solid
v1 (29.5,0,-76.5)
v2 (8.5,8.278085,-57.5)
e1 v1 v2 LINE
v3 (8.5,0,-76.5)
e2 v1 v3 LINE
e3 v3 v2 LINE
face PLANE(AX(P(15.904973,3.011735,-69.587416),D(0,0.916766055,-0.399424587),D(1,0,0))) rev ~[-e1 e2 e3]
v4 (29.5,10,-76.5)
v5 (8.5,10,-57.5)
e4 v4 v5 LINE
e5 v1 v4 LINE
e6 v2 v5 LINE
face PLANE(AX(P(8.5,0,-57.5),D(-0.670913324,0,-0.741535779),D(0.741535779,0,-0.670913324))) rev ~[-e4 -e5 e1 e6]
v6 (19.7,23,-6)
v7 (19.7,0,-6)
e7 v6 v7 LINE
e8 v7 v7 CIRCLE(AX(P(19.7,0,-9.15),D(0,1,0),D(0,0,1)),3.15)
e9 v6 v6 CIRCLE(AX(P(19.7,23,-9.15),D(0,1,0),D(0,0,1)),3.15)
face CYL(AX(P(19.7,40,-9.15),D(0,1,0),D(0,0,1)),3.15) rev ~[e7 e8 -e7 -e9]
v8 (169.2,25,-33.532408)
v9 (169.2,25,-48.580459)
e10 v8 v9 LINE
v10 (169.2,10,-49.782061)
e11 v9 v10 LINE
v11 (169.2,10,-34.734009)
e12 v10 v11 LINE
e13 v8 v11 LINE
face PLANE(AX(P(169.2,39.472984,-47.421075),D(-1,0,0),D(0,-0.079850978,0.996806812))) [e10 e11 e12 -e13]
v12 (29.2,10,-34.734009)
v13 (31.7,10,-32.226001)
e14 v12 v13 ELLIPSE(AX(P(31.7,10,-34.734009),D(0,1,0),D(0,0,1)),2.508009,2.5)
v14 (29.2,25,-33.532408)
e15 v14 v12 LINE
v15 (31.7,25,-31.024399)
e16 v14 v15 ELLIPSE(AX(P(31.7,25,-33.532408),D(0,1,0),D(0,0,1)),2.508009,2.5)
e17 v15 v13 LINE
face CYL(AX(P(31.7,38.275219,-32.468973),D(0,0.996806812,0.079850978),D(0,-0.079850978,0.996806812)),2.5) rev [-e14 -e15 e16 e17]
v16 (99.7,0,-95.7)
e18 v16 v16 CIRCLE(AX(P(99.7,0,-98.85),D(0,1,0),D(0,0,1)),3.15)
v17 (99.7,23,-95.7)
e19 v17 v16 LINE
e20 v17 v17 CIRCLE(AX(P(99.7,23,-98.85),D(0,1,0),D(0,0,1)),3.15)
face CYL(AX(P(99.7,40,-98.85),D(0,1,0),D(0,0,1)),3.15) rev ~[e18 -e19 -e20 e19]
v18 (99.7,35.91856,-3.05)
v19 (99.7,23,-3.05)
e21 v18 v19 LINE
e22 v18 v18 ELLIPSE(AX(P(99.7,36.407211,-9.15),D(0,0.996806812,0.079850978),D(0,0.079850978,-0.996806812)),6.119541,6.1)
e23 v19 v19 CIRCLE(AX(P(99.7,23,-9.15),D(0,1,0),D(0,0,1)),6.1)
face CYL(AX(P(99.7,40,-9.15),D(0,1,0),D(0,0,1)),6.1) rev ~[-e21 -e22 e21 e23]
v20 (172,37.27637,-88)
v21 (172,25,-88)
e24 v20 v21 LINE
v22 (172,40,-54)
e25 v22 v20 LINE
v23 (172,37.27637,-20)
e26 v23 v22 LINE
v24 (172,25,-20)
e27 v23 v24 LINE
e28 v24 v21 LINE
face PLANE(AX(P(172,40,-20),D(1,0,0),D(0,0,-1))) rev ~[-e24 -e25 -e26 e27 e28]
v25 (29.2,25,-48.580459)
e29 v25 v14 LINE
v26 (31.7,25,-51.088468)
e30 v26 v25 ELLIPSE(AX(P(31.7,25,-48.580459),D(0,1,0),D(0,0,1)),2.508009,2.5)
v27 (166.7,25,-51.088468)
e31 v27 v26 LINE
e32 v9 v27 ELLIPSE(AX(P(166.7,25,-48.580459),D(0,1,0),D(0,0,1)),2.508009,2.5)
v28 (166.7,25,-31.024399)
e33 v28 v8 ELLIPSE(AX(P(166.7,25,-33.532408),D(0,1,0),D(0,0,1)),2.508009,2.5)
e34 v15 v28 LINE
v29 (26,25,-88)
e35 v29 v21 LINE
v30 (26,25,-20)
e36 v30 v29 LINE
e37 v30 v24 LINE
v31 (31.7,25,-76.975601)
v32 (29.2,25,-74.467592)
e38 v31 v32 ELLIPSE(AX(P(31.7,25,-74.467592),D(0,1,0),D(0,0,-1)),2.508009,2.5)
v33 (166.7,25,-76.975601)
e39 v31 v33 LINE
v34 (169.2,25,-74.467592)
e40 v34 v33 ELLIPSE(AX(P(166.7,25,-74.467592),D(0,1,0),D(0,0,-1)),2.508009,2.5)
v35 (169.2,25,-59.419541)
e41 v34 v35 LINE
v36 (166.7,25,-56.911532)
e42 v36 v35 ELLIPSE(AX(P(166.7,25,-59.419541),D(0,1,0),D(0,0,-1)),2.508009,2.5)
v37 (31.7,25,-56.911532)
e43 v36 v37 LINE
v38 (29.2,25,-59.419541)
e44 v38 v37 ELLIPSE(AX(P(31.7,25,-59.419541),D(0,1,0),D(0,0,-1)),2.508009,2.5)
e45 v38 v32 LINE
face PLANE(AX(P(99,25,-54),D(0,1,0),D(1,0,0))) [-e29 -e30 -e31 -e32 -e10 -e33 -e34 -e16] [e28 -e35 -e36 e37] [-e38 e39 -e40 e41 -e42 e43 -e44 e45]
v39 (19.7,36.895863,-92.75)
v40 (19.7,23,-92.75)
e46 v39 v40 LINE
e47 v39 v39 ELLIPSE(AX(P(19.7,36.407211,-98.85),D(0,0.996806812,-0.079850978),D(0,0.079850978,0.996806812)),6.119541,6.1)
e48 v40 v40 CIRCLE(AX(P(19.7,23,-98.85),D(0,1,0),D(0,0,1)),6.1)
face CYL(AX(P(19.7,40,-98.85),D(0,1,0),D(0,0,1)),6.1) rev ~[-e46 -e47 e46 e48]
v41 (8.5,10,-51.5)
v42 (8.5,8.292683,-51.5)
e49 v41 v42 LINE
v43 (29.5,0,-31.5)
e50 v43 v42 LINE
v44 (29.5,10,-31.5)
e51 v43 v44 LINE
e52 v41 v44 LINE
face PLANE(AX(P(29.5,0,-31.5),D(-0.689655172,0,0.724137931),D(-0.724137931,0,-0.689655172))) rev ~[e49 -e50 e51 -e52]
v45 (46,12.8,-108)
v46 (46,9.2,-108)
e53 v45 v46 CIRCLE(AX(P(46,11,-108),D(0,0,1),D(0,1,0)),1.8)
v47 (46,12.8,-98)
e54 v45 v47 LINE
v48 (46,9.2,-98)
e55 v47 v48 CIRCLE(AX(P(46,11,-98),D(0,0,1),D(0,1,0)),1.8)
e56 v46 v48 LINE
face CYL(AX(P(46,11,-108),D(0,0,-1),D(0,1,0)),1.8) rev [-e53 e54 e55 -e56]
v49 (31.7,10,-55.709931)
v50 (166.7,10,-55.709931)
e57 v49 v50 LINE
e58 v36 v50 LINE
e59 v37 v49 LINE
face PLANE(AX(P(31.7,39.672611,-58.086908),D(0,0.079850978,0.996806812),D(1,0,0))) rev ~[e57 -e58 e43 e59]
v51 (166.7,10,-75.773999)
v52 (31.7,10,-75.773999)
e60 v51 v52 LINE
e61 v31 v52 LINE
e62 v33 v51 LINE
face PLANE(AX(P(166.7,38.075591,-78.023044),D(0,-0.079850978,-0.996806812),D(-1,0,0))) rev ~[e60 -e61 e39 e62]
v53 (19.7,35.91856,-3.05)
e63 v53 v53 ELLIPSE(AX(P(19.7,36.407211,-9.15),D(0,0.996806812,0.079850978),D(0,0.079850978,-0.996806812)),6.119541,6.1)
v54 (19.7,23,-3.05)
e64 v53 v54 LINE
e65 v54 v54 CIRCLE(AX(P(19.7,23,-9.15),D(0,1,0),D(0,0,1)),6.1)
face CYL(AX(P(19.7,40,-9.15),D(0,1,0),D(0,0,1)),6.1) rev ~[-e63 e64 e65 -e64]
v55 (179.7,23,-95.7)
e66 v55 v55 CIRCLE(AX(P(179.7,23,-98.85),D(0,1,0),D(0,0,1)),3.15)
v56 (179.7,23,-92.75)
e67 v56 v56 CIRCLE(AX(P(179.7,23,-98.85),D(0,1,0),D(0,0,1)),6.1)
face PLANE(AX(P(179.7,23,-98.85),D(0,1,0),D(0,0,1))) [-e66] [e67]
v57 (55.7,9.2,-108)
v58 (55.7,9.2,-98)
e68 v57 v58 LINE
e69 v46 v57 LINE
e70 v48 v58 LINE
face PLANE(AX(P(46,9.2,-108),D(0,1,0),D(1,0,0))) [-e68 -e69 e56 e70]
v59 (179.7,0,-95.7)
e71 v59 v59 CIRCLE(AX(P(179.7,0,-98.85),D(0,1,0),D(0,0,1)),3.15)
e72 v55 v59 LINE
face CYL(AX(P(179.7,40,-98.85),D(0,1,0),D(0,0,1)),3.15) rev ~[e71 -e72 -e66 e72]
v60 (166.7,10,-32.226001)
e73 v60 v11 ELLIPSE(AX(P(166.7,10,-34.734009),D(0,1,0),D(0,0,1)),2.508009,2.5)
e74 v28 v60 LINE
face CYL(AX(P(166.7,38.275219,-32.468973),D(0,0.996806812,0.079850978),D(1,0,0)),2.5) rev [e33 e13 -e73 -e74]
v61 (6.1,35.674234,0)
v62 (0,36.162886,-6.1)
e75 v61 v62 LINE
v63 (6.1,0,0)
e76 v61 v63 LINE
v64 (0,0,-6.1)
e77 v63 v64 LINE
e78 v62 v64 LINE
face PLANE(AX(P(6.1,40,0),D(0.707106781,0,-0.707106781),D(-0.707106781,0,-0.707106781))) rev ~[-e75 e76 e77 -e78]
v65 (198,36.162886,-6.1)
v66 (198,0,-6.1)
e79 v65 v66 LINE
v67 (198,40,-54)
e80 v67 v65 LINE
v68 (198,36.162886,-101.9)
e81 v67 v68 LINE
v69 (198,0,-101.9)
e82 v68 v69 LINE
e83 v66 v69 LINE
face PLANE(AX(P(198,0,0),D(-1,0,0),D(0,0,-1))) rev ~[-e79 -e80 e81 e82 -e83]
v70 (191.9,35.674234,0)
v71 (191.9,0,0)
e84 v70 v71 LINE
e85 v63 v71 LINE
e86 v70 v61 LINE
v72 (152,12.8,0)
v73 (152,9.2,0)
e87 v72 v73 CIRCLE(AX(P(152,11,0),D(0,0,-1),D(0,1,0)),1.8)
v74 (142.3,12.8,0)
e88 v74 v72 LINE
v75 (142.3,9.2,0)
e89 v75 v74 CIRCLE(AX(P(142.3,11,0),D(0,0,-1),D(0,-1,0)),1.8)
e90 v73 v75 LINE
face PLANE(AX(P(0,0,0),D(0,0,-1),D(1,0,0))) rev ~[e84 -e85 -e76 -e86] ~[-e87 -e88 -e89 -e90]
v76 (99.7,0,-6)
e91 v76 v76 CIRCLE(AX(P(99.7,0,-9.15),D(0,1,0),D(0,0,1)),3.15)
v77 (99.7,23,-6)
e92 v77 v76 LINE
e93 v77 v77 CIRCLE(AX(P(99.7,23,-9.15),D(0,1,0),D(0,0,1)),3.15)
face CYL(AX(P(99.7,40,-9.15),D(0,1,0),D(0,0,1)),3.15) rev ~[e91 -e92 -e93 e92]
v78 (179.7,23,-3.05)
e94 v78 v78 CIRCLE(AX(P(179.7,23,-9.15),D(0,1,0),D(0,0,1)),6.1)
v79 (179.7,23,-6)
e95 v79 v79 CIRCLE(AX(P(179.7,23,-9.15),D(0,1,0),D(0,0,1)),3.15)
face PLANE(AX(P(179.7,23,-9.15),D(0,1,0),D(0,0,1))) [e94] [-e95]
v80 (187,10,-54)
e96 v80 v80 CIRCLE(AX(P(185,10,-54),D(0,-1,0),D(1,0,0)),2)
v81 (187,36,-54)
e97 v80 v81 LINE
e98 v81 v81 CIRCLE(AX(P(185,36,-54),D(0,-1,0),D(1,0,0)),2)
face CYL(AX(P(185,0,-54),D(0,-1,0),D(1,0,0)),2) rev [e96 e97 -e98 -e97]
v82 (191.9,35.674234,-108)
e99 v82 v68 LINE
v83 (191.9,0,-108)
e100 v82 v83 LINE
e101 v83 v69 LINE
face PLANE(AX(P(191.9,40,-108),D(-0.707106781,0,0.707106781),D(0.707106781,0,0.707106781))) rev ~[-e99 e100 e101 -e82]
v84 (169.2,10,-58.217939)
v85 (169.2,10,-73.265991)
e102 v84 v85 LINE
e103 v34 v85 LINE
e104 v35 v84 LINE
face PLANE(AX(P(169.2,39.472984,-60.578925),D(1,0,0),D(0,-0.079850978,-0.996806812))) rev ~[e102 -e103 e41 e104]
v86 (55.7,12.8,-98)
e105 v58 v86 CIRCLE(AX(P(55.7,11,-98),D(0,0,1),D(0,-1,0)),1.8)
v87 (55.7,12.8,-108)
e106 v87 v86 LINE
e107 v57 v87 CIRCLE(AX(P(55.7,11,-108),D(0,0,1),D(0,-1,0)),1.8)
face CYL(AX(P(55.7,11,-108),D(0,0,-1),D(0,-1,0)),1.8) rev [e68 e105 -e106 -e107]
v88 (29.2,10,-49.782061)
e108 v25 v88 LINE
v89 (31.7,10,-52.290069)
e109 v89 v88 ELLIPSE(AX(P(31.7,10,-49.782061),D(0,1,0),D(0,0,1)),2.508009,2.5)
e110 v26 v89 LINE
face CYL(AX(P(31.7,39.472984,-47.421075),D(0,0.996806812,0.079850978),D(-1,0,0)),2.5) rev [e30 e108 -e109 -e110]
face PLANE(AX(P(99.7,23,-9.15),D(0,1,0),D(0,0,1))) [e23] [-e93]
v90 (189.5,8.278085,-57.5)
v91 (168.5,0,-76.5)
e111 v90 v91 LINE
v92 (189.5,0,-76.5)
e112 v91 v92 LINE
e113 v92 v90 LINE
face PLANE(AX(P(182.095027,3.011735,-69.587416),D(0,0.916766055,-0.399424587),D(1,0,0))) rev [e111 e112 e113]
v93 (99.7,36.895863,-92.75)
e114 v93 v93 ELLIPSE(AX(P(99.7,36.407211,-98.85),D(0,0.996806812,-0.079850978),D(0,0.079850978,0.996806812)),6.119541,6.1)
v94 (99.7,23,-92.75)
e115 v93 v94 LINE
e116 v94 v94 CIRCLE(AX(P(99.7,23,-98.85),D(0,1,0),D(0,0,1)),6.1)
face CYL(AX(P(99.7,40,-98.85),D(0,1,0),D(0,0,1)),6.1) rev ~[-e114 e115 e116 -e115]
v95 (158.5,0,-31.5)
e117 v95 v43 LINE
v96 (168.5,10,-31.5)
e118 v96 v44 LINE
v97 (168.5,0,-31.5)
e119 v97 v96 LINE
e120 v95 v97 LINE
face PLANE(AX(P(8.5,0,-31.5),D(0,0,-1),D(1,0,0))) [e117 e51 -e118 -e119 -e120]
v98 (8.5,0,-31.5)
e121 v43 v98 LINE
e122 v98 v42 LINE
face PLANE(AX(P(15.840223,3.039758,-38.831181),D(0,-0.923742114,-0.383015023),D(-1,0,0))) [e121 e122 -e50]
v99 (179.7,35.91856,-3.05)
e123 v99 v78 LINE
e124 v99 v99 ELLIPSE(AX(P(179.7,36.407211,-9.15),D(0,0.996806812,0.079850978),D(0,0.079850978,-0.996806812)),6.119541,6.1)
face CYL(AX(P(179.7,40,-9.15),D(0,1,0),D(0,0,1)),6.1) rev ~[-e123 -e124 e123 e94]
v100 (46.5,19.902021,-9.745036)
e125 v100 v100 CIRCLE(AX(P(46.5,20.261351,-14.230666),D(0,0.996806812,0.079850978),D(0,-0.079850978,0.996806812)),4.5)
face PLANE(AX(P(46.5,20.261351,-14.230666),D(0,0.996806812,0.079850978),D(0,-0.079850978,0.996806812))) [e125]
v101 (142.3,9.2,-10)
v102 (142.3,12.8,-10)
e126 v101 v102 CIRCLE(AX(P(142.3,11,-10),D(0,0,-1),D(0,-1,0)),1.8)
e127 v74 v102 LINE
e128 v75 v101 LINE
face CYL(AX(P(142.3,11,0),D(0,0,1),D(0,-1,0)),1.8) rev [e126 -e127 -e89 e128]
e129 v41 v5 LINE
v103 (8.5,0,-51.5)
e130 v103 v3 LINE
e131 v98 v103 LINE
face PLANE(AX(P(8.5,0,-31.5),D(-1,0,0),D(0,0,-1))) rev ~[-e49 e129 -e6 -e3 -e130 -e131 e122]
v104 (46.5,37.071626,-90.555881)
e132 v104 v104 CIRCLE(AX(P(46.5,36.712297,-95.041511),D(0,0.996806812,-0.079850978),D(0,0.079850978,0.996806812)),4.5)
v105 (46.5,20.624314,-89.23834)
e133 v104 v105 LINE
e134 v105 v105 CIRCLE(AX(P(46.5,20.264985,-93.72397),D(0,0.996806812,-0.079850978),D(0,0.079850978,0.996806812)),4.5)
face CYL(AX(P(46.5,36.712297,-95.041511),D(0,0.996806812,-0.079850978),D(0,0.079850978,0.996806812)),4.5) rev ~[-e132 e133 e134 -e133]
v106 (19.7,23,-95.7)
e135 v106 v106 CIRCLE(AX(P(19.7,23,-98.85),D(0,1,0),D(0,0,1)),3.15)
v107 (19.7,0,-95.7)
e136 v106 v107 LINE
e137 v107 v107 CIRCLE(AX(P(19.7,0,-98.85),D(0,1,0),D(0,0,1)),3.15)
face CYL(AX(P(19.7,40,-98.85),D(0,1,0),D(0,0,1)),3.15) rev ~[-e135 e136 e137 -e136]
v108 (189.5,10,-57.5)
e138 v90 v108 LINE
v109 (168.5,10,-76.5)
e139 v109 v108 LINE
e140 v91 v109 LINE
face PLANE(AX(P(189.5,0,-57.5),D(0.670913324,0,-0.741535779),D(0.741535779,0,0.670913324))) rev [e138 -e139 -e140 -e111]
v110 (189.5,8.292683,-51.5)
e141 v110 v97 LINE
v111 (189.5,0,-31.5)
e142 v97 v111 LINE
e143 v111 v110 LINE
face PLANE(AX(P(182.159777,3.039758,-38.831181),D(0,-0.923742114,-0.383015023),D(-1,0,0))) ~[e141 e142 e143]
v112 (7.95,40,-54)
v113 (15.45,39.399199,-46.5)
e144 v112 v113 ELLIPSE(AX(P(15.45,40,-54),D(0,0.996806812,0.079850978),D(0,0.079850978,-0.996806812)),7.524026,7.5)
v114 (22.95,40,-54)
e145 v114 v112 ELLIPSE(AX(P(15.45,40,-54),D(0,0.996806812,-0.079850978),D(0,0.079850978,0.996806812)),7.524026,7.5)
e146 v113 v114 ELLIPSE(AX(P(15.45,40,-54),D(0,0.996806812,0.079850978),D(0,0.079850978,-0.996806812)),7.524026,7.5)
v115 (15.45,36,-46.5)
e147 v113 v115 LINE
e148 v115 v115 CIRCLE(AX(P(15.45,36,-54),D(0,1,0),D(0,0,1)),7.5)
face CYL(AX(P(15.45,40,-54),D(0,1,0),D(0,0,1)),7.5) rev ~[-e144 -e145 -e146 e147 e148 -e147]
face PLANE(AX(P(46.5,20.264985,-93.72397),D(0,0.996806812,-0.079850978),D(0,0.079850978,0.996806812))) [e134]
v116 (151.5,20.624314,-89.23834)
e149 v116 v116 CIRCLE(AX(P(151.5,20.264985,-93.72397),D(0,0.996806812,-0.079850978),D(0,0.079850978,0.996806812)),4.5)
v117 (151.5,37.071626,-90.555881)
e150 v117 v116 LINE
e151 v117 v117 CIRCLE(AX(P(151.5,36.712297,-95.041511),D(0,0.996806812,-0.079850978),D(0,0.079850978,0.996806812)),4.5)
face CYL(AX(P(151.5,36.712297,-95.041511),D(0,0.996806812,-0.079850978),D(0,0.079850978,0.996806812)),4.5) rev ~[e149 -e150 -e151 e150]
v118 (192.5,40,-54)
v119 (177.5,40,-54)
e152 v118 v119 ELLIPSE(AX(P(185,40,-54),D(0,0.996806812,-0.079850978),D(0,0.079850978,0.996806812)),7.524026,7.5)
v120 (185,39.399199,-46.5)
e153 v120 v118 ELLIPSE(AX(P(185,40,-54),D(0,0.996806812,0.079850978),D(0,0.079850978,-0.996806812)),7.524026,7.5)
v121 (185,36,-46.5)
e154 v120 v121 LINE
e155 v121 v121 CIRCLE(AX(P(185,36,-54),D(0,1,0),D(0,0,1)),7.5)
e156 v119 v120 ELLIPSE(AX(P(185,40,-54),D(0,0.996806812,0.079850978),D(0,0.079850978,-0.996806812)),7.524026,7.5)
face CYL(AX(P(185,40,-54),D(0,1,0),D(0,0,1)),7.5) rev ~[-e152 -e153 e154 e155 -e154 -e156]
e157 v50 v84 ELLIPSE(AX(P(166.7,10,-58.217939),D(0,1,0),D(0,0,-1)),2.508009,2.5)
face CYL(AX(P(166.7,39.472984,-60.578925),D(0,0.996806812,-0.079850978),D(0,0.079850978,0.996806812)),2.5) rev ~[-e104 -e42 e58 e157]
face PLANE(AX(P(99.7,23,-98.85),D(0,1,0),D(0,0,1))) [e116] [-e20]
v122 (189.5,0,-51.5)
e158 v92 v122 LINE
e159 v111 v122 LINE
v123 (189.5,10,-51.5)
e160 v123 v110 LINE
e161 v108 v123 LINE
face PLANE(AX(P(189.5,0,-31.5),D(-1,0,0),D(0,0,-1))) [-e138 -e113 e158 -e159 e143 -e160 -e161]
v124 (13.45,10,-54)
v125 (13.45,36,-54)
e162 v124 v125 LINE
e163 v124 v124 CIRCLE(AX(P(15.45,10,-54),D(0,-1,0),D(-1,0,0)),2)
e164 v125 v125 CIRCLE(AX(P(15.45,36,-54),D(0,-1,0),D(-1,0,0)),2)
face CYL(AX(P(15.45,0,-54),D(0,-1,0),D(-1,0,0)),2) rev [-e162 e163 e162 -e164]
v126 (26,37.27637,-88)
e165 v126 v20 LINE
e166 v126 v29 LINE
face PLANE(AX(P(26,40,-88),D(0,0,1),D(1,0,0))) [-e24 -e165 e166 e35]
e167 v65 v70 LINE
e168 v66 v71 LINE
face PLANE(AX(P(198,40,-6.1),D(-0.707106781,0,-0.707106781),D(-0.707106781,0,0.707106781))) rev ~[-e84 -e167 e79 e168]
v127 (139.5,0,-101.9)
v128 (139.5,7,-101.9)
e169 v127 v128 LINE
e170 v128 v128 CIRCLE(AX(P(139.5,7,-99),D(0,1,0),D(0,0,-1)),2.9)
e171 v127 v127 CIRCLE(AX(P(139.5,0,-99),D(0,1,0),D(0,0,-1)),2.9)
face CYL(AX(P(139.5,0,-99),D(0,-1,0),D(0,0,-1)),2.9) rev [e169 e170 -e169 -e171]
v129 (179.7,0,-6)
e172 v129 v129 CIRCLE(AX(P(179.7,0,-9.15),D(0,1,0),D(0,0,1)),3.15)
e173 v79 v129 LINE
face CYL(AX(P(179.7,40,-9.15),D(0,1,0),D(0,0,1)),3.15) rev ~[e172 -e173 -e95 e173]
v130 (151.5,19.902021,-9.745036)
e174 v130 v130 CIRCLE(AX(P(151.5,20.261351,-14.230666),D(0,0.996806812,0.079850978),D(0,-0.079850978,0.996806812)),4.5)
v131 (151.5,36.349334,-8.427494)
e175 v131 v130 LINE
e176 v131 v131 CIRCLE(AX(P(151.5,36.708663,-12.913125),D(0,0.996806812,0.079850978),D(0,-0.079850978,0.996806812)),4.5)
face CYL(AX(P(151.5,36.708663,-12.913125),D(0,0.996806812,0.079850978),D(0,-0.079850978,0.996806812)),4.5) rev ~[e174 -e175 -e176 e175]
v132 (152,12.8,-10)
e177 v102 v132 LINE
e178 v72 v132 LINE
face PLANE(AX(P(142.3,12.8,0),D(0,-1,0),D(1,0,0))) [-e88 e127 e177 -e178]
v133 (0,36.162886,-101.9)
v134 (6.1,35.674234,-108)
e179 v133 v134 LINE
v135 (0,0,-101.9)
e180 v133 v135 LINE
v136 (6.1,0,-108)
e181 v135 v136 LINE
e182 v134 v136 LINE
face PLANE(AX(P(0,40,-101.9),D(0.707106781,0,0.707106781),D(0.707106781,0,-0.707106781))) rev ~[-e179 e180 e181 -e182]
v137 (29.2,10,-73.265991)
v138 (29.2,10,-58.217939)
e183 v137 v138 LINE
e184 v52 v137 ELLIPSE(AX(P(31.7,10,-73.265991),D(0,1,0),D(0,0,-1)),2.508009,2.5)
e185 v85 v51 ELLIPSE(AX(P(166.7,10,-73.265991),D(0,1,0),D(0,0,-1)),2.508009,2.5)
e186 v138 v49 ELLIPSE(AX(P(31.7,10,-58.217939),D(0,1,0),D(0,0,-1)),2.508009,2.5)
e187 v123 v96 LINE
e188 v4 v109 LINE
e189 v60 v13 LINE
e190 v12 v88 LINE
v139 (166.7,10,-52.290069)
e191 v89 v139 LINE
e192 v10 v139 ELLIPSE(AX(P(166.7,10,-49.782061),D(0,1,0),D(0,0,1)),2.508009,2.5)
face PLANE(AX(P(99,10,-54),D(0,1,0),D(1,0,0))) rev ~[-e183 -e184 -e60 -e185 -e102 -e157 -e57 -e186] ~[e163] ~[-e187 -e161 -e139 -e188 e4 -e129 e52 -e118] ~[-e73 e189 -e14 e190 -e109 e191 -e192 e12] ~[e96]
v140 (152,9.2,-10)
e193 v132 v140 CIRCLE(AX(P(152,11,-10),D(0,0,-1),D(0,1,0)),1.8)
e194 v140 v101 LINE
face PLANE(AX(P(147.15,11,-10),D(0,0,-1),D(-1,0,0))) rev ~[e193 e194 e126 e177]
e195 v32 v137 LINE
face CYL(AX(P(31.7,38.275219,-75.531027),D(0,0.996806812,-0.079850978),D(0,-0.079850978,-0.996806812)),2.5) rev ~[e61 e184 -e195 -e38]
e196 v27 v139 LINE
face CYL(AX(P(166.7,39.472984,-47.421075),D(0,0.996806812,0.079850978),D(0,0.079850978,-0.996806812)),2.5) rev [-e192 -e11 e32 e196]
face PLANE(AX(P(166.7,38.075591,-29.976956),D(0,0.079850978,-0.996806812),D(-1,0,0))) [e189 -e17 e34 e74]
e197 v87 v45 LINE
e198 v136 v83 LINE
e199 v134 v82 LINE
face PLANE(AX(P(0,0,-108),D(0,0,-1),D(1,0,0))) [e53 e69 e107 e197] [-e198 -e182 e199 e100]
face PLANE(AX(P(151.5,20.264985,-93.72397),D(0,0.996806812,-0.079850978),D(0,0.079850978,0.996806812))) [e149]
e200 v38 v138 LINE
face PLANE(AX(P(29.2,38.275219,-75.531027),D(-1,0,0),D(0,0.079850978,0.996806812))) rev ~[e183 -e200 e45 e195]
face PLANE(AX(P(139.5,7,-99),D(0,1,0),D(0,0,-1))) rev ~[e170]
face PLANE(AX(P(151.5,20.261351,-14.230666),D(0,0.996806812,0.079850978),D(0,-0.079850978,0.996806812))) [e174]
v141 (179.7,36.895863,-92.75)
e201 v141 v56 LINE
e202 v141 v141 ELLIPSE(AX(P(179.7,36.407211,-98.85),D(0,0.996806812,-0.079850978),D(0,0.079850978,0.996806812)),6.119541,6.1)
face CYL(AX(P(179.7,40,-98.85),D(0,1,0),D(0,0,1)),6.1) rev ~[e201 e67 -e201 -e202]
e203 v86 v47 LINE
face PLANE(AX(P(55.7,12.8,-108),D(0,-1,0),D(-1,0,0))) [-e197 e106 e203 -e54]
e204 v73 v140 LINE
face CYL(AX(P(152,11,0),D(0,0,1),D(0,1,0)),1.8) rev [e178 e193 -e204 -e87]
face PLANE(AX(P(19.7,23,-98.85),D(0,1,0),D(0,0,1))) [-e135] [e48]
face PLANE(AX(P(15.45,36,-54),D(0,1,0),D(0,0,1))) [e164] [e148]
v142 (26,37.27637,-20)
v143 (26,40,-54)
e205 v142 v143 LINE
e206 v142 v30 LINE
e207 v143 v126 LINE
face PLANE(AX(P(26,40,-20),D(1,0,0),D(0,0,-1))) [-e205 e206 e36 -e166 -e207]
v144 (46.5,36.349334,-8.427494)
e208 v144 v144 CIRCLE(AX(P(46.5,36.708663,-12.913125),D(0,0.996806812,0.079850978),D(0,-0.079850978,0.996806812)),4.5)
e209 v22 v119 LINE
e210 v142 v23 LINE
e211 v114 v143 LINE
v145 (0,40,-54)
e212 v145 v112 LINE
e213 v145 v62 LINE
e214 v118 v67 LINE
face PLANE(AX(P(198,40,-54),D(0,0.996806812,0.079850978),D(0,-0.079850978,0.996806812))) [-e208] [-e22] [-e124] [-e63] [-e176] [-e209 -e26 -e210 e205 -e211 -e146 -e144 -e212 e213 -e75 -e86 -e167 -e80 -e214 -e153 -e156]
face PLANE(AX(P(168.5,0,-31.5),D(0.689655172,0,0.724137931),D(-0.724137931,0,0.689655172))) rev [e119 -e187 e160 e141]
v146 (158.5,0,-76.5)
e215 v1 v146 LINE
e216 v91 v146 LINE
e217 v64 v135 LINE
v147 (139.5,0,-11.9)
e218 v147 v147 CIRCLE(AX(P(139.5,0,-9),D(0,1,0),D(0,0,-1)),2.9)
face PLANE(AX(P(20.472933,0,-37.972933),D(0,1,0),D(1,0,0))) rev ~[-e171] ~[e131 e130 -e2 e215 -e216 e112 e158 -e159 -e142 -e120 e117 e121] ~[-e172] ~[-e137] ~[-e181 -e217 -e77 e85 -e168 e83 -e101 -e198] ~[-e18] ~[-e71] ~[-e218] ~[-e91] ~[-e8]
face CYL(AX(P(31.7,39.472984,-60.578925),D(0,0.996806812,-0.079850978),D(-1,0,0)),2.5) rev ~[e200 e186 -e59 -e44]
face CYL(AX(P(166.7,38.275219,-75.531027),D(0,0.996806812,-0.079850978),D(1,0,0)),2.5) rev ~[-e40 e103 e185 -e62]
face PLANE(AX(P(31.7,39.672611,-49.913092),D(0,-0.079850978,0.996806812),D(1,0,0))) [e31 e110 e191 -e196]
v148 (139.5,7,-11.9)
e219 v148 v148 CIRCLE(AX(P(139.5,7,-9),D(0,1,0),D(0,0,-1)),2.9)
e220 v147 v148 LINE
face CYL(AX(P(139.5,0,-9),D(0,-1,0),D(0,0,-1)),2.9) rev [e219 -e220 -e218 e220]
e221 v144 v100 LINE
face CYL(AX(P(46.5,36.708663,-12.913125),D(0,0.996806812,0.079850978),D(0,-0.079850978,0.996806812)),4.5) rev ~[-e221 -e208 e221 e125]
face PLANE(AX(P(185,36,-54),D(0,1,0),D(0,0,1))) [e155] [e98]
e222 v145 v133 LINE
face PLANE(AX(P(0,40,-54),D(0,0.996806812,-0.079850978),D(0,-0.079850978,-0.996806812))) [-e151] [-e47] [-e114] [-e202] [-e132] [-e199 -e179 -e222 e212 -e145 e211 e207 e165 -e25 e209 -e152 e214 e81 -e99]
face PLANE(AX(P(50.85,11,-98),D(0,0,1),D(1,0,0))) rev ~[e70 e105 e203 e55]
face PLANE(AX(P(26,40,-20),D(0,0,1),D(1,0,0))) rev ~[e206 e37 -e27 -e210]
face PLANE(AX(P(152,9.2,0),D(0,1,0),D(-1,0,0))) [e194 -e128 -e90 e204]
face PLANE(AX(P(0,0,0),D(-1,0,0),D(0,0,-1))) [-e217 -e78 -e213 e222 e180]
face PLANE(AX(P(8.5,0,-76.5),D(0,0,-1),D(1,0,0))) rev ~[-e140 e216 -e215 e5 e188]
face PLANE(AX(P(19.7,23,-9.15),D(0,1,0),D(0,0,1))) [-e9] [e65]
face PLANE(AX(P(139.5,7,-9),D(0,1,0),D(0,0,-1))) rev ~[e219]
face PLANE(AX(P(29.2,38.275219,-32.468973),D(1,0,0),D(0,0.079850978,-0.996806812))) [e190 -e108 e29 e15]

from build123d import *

# Parameters (mm, degrees)
SKETCH1_W             = 198
SKETCH1_H             = 108
BOSS_EXTRUDE1_DEPTH   = 40
SKETCH4_W             = 181
SKETCH4_H             = 45
CUT_EXTRUDE2_DEPTH    = 10
CUT_EXTRUDE3_START    = -198
CUT_EXTRUDE3_DEPTH    = 198
BOSS_EXTRUDE11_DEPTH  = 10
CUT_EXTRUDE12_DEPTH   = 198
CUT_EXTRUDE28_DEPTH   = 14.5
CUT_EXTRUDE29_DEPTH   = 14.5
CUT_EXTRUDE40_REACH   = 231.059
SKETCH12_R            = 3.15
CUT_EXTRUDE9_DEPTH    = 230.058944379
SKETCH13_R            = 4.5
CUT_EXTRUDE10_DEPTH   = 16.5
SKETCH14_R            = 4.5
CUT_EXTRUDE11_DEPTH   = 16.5
SKETCH41_R            = 2.9
CUT_EXTRUDE21_DEPTH   = 7
CUT_EXTRUDE22_DEPTH   = 10
CUT_EXTRUDE23_DEPTH   = 10
CUT_EXTRUDE35_DEPTH   = 55.4
CUT_EXTRUDE34_DEPTH   = 55.4
CUT_EXTRUDE36_DEPTH   = 55.4
SKETCH90_R            = 6.1
CUT_EXTRUDE38_DEPTH   = 17
SKETCH96_R            = 2
CUT_EXTRUDE39_DEPTH   = 230.058944379
SKETCH98_R            = 7.5
CUT_EXTRUDE41_DEPTH   = 4
CROQUIS1_W            = 146
CROQUIS1_H            = 68
CORTAR_EXTRUIR1_DEPTH = 15


with BuildPart() as part:
    # Sketch1 → Boss-Extrude1 (new body)
    with BuildSketch(Plane(origin=(0, 0, 0), x_dir=(1, 0, 0), z_dir=(0, 1, 0))):
        with Locations((99, 54)):
            Rectangle(SKETCH1_W, SKETCH1_H)
    extrude(amount=BOSS_EXTRUDE1_DEPTH)

    # Sketch4 → Cut-Extrude2 (cut)
    with BuildSketch(Plane(origin=(0, 0, 0), x_dir=(1, 0, 0), z_dir=(0, 1, 0))):
        with Locations((99, 54)):
            Rectangle(SKETCH4_W, SKETCH4_H)
    extrude(amount=CUT_EXTRUDE2_DEPTH, mode=Mode.SUBTRACT)

    # Sketch5 → Cut-Extrude3 (cut)
    with BuildSketch(Plane(origin=(198, 0, 0), x_dir=(0, 0, -1), z_dir=(1, 0, 0)).offset(CUT_EXTRUDE3_START)):
        Polygon((54, 40), (108, 35.674234207), (108, 40), align=None)
    extrude(amount=CUT_EXTRUDE3_DEPTH, mode=Mode.SUBTRACT)

    # Sketch53 → Boss-Extrude11 (add)
    with BuildSketch(Plane(origin=(0, 10, 0), x_dir=(-1, 0, 0), z_dir=(0, -1, 0))):
        Polygon((-8.5, 51.5), (-8.5, 31.5), (-39.5, 31.5), align=None)
        Polygon((-8.5, 56.5), (-8.5, 76.5), (-39.5, 76.5), align=None)
        Polygon((-158.5, 76.5), (-189.5, 56.5), (-189.5, 76.5), align=None)
        Polygon((-158.5, 31.5), (-189.5, 51.5), (-189.5, 31.5), align=None)
    extrude(amount=BOSS_EXTRUDE11_DEPTH)

    # Sketch18 → Cut-Extrude12 (cut)
    with BuildSketch(Plane(origin=(198, 0, 0), x_dir=(0, 0, -1), z_dir=(1, 0, 0))):
        Polygon((0, 35.674234207), (0, 40), (54, 40), align=None)
    extrude(amount=-CUT_EXTRUDE12_DEPTH, mode=Mode.SUBTRACT)

    # Izq → Cut-Extrude28 (cut)
    with BuildSketch(Plane(origin=(0, 28.012686094, -12.204810084), x_dir=(1, 0, 0), z_dir=(0, 0.9167660546215652, -0.39942458749256926))):
        Polygon((8.5, 48.862182113), (29.5, 70.132603179), (8.5, 70.132603179), align=None)
    cut_extrude28 = extrude(amount=-CUT_EXTRUDE28_DEPTH, mode=Mode.SUBTRACT)

    # Der → Cut-Extrude29 (cut)
    with BuildSketch(Plane(origin=(0, -11.144923858, -4.62106599), x_dir=(1, 0, 0), z_dir=(0, 0.9237421135716327, 0.38301502270043264))):
        Polygon((8.5, 51.290217599), (29.5, 29.097876578), (8.5, 29.097876578), align=None)
    cut_extrude29 = extrude(amount=-CUT_EXTRUDE29_DEPTH, mode=Mode.SUBTRACT)

    # Cut-Extrude40: up to this face of the body (flat: up to its plane)
    cut_extrude40_end = Plane(part.part.faces().sort_by_distance((99, 10, -54))[0])
    # Sketch97 → Cut-Extrude40 (cut, up to the picked face)
    with BuildSketch(Plane(origin=(0, 0, 0), x_dir=(1, 0, 0), z_dir=(0, 1, 0)), mode=Mode.PRIVATE) as cut_extrude40_sk1:
        Polygon((8.5, 57.5), (29.5, 76.5), (158.5, 76.5), (189.5, 56.5), (189.5, 51.5), (158.5, 31.5), (29.5, 31.5), (8.5, 51.5), align=None)
    cut_extrude40_tool1 = split(extrude(cut_extrude40_sk1.sketch, amount=CUT_EXTRUDE40_REACH, mode=Mode.PRIVATE), bisect_by=cut_extrude40_end, keep=Keep.BOTH, mode=Mode.PRIVATE)
    cut_extrude40 = cut_extrude40_tool1.solids().sort_by(Axis((96.82024, 0, -54.014019), (0, 1, 0)))[0]
    add(cut_extrude40, mode=Mode.SUBTRACT)

    # Mirror2: Cut-Extrude28, Cut-Extrude29, Cut-Extrude40 across plane
    add(cut_extrude28.mirror(Plane(origin=(99, 0, 0), x_dir=(0, 0, 1), z_dir=(1, 0, 0))), mode=Mode.SUBTRACT)
    add(cut_extrude29.mirror(Plane(origin=(99, 0, 0), x_dir=(0, 0, 1), z_dir=(1, 0, 0))), mode=Mode.SUBTRACT)
    add(cut_extrude40.mirror(Plane(origin=(99, 0, 0), x_dir=(0, 0, 1), z_dir=(1, 0, 0))), mode=Mode.SUBTRACT)

    # Sketch12 → Cut-Extrude9 (cut, through all)
    with BuildSketch(Plane(origin=(0, 40, 0), x_dir=(1, 0, 0), z_dir=(0, 1, 0))):
        with Locations(Location((19.7, 98.85, 0), (0, 0, 270))):
            Circle(SKETCH12_R)
        with Locations(Location((99.7, 9.15, 0), (0, 0, 270))):
            Circle(SKETCH12_R)
        with Locations(Location((179.7, 9.15, 0), (0, 0, 270))):
            Circle(SKETCH12_R)
        with Locations(Location((19.7, 9.15, 0), (0, 0, 270))):
            Circle(SKETCH12_R)
        with Locations(Location((99.7, 98.85, 0), (0, 0, 270))):
            Circle(SKETCH12_R)
        with Locations(Location((179.7, 98.85, 0), (0, 0, 270))):
            Circle(SKETCH12_R)
    extrude(amount=-CUT_EXTRUDE9_DEPTH, mode=Mode.SUBTRACT)

    # Sketch13 → Cut-Extrude10 (cut)
    with BuildSketch(Plane(origin=(0, 44.04313679, -3.528153602), x_dir=(1, 0, 0), z_dir=(0, 0.9968068124341598, -0.07985097798305206))):
        with Locations(Location((46.5, 91.806513253, 0), (0, 0, 270))):
            Circle(SKETCH13_R)
        with Locations(Location((151.5, 91.806513253, 0), (0, 0, 270))):
            Circle(SKETCH13_R)
    extrude(amount=-CUT_EXTRUDE10_DEPTH, mode=Mode.SUBTRACT)

    # Sketch14 → Cut-Extrude11 (cut)
    with BuildSketch(Plane(origin=(0, 35.212287021, 5.766643233), x_dir=(1, 0, 0), z_dir=(0, 0.9968068124341597, 0.07985097798305243))):
        with Locations(Location((46.5, 18.739607443, 0), (0, 0, 270))):
            Circle(SKETCH14_R)
        with Locations(Location((151.5, 18.739607443, 0), (0, 0, 270))):
            Circle(SKETCH14_R)
    extrude(amount=-CUT_EXTRUDE11_DEPTH, mode=Mode.SUBTRACT)

    # Sketch41 → Cut-Extrude21 (cut)
    with BuildSketch(Plane(origin=(0, 0, 0), x_dir=(1, 0, 0), z_dir=(0, 1, 0))):
        with Locations(Location((139.5, 9, 0), (0, 0, 90))):
            Circle(SKETCH41_R)
        with Locations(Location((139.5, 99, 0), (0, 0, 90))):
            Circle(SKETCH41_R)
    extrude(amount=CUT_EXTRUDE21_DEPTH, mode=Mode.SUBTRACT)

    # Sketch42 → Cut-Extrude22 (cut)
    with BuildSketch(Plane.XY):
        with BuildLine():
            Line((142.3, 12.8), (152, 12.8))
            ThreePointArc((152, 12.8), (153.8, 11), (152, 9.2))
            Line((152, 9.2), (142.3, 9.2))
            ThreePointArc((142.3, 9.2), (140.5, 11), (142.3, 12.8))
        make_face()
    extrude(amount=-CUT_EXTRUDE22_DEPTH, mode=Mode.SUBTRACT)

    # Sketch43 → Cut-Extrude23 (cut)
    with BuildSketch(Plane(origin=(0, 0, -108), x_dir=(-1, 0, 0), z_dir=(0, 0, -1))):
        with BuildLine():
            Line((-55.7, 12.8), (-46, 12.8))
            ThreePointArc((-46, 12.8), (-44.2, 11), (-46, 9.2))
            Line((-46, 9.2), (-55.7, 9.2))
            ThreePointArc((-55.7, 9.2), (-57.5, 11), (-55.7, 12.8))
        make_face()
    extrude(amount=-CUT_EXTRUDE23_DEPTH, mode=Mode.SUBTRACT)

    # Sketch84 → Cut-Extrude35 (cut)
    with BuildSketch(Plane(origin=(0, 44.04313679, -3.528153602), x_dir=(1, 0, 0), z_dir=(0, 0.9968068124341598, -0.07985097798305206))):
        with BuildLine():
            Line((31.7, 54.733528752), (166.7, 54.733528752))
            ThreePointArc((166.7, 54.733528752), (168.467766953, 55.465761799), (169.2, 57.233528752))
            Line((169.2, 57.233528752), (169.2, 72.233528752))
            ThreePointArc((169.2, 72.233528752), (168.467766953, 74.001295705), (166.7, 74.733528752))
            Line((166.7, 74.733528752), (31.7, 74.733528752))
            ThreePointArc((31.7, 74.733528752), (29.932233047, 74.001295705), (29.2, 72.233528752))
            Line((29.2, 72.233528752), (29.2, 57.233528752))
            ThreePointArc((29.2, 57.233528752), (29.932233047, 55.465761799), (31.7, 54.733528752))
        make_face()
    extrude(amount=-CUT_EXTRUDE35_DEPTH, mode=Mode.SUBTRACT)

    # Sketch83 → Cut-Extrude34 (cut)
    with BuildSketch(Plane(origin=(0, 35.446768916, 2.839526304), x_dir=(1, 0, 0), z_dir=(0, 0.9968068124341598, 0.07985097798305245))):
        with BuildLine():
            Line((31.7, 52.921606991), (166.7, 52.921606991))
            ThreePointArc((166.7, 52.921606991), (168.467766953, 52.189373944), (169.2, 50.421606991))
            Line((169.2, 50.421606991), (169.2, 35.421606991))
            ThreePointArc((169.2, 35.421606991), (168.467766953, 33.653840038), (166.7, 32.921606991))
            Line((166.7, 32.921606991), (31.7, 32.921606991))
            ThreePointArc((31.7, 32.921606991), (29.932233047, 33.653840038), (29.2, 35.421606991))
            Line((29.2, 35.421606991), (29.2, 50.421606991))
            ThreePointArc((29.2, 50.421606991), (29.932233047, 52.189373944), (31.7, 52.921606991))
        make_face()
    extrude(amount=-CUT_EXTRUDE34_DEPTH, mode=Mode.SUBTRACT)

    # Sketch85 → Cut-Extrude36 (cut)
    with BuildSketch(Plane(origin=(0, 40, 0), x_dir=(1, 0, 0), z_dir=(0, 1, 0))):
        Polygon((0, 101.9), (6.1, 108), (0, 108), align=None)
        Polygon((0, 0), (6.1, 0), (0, 6.1), align=None)
        Polygon((198, 6.1), (191.9, 0), (198, 0), align=None)
        Polygon((198, 108), (191.9, 108), (198, 101.9), align=None)
    extrude(amount=-CUT_EXTRUDE36_DEPTH, mode=Mode.SUBTRACT)

    # Sketch90 → Cut-Extrude38 (cut)
    with BuildSketch(Plane(origin=(0, 40, 0), x_dir=(1, 0, 0), z_dir=(0, 1, 0))):
        with Locations(Location((19.7, 9.15, 0), (0, 0, 270))):
            Circle(SKETCH90_R)
        with Locations(Location((99.7, 9.15, 0), (0, 0, 270))):
            Circle(SKETCH90_R)
        with Locations(Location((179.7, 9.15, 0), (0, 0, 270))):
            Circle(SKETCH90_R)
        with Locations(Location((99.7, 98.85, 0), (0, 0, 270))):
            Circle(SKETCH90_R)
        with Locations(Location((179.7, 98.85, 0), (0, 0, 270))):
            Circle(SKETCH90_R)
        with Locations(Location((19.7, 98.85, 0), (0, 0, 270))):
            Circle(SKETCH90_R)
    extrude(amount=-CUT_EXTRUDE38_DEPTH, mode=Mode.SUBTRACT)

    # Sketch96 → Cut-Extrude39 (cut, through all)
    with BuildSketch(Plane(origin=(0, 0, 0), x_dir=(1, 0, 0), z_dir=(0, 1, 0))):
        with Locations(Location((15.45, 54, 0), (0, 0, 180))):
            Circle(SKETCH96_R)
        with Locations((185, 54)):
            Circle(SKETCH96_R)
    extrude(amount=CUT_EXTRUDE39_DEPTH, mode=Mode.SUBTRACT)

    # Sketch98 → Cut-Extrude41 (cut)
    with BuildSketch(Plane(origin=(0, 40, 0), x_dir=(1, 0, 0), z_dir=(0, 1, 0))):
        with Locations(Location((185, 54, 0), (0, 0, 270))):
            Circle(SKETCH98_R)
        with Locations(Location((15.45, 54, 0), (0, 0, 270))):
            Circle(SKETCH98_R)
    extrude(amount=-CUT_EXTRUDE41_DEPTH, mode=Mode.SUBTRACT)

    # Croquis1 → Cortar-Extruir1 (cut)
    with BuildSketch(Plane(origin=(0, 40, 0), x_dir=(1, 0, 0), z_dir=(0, 1, 0))):
        with Locations((99, 54)):
            Rectangle(CROQUIS1_W, CROQUIS1_H)
    extrude(amount=-CORTAR_EXTRUIR1_DEPTH, mode=Mode.SUBTRACT)


solid = part.part
